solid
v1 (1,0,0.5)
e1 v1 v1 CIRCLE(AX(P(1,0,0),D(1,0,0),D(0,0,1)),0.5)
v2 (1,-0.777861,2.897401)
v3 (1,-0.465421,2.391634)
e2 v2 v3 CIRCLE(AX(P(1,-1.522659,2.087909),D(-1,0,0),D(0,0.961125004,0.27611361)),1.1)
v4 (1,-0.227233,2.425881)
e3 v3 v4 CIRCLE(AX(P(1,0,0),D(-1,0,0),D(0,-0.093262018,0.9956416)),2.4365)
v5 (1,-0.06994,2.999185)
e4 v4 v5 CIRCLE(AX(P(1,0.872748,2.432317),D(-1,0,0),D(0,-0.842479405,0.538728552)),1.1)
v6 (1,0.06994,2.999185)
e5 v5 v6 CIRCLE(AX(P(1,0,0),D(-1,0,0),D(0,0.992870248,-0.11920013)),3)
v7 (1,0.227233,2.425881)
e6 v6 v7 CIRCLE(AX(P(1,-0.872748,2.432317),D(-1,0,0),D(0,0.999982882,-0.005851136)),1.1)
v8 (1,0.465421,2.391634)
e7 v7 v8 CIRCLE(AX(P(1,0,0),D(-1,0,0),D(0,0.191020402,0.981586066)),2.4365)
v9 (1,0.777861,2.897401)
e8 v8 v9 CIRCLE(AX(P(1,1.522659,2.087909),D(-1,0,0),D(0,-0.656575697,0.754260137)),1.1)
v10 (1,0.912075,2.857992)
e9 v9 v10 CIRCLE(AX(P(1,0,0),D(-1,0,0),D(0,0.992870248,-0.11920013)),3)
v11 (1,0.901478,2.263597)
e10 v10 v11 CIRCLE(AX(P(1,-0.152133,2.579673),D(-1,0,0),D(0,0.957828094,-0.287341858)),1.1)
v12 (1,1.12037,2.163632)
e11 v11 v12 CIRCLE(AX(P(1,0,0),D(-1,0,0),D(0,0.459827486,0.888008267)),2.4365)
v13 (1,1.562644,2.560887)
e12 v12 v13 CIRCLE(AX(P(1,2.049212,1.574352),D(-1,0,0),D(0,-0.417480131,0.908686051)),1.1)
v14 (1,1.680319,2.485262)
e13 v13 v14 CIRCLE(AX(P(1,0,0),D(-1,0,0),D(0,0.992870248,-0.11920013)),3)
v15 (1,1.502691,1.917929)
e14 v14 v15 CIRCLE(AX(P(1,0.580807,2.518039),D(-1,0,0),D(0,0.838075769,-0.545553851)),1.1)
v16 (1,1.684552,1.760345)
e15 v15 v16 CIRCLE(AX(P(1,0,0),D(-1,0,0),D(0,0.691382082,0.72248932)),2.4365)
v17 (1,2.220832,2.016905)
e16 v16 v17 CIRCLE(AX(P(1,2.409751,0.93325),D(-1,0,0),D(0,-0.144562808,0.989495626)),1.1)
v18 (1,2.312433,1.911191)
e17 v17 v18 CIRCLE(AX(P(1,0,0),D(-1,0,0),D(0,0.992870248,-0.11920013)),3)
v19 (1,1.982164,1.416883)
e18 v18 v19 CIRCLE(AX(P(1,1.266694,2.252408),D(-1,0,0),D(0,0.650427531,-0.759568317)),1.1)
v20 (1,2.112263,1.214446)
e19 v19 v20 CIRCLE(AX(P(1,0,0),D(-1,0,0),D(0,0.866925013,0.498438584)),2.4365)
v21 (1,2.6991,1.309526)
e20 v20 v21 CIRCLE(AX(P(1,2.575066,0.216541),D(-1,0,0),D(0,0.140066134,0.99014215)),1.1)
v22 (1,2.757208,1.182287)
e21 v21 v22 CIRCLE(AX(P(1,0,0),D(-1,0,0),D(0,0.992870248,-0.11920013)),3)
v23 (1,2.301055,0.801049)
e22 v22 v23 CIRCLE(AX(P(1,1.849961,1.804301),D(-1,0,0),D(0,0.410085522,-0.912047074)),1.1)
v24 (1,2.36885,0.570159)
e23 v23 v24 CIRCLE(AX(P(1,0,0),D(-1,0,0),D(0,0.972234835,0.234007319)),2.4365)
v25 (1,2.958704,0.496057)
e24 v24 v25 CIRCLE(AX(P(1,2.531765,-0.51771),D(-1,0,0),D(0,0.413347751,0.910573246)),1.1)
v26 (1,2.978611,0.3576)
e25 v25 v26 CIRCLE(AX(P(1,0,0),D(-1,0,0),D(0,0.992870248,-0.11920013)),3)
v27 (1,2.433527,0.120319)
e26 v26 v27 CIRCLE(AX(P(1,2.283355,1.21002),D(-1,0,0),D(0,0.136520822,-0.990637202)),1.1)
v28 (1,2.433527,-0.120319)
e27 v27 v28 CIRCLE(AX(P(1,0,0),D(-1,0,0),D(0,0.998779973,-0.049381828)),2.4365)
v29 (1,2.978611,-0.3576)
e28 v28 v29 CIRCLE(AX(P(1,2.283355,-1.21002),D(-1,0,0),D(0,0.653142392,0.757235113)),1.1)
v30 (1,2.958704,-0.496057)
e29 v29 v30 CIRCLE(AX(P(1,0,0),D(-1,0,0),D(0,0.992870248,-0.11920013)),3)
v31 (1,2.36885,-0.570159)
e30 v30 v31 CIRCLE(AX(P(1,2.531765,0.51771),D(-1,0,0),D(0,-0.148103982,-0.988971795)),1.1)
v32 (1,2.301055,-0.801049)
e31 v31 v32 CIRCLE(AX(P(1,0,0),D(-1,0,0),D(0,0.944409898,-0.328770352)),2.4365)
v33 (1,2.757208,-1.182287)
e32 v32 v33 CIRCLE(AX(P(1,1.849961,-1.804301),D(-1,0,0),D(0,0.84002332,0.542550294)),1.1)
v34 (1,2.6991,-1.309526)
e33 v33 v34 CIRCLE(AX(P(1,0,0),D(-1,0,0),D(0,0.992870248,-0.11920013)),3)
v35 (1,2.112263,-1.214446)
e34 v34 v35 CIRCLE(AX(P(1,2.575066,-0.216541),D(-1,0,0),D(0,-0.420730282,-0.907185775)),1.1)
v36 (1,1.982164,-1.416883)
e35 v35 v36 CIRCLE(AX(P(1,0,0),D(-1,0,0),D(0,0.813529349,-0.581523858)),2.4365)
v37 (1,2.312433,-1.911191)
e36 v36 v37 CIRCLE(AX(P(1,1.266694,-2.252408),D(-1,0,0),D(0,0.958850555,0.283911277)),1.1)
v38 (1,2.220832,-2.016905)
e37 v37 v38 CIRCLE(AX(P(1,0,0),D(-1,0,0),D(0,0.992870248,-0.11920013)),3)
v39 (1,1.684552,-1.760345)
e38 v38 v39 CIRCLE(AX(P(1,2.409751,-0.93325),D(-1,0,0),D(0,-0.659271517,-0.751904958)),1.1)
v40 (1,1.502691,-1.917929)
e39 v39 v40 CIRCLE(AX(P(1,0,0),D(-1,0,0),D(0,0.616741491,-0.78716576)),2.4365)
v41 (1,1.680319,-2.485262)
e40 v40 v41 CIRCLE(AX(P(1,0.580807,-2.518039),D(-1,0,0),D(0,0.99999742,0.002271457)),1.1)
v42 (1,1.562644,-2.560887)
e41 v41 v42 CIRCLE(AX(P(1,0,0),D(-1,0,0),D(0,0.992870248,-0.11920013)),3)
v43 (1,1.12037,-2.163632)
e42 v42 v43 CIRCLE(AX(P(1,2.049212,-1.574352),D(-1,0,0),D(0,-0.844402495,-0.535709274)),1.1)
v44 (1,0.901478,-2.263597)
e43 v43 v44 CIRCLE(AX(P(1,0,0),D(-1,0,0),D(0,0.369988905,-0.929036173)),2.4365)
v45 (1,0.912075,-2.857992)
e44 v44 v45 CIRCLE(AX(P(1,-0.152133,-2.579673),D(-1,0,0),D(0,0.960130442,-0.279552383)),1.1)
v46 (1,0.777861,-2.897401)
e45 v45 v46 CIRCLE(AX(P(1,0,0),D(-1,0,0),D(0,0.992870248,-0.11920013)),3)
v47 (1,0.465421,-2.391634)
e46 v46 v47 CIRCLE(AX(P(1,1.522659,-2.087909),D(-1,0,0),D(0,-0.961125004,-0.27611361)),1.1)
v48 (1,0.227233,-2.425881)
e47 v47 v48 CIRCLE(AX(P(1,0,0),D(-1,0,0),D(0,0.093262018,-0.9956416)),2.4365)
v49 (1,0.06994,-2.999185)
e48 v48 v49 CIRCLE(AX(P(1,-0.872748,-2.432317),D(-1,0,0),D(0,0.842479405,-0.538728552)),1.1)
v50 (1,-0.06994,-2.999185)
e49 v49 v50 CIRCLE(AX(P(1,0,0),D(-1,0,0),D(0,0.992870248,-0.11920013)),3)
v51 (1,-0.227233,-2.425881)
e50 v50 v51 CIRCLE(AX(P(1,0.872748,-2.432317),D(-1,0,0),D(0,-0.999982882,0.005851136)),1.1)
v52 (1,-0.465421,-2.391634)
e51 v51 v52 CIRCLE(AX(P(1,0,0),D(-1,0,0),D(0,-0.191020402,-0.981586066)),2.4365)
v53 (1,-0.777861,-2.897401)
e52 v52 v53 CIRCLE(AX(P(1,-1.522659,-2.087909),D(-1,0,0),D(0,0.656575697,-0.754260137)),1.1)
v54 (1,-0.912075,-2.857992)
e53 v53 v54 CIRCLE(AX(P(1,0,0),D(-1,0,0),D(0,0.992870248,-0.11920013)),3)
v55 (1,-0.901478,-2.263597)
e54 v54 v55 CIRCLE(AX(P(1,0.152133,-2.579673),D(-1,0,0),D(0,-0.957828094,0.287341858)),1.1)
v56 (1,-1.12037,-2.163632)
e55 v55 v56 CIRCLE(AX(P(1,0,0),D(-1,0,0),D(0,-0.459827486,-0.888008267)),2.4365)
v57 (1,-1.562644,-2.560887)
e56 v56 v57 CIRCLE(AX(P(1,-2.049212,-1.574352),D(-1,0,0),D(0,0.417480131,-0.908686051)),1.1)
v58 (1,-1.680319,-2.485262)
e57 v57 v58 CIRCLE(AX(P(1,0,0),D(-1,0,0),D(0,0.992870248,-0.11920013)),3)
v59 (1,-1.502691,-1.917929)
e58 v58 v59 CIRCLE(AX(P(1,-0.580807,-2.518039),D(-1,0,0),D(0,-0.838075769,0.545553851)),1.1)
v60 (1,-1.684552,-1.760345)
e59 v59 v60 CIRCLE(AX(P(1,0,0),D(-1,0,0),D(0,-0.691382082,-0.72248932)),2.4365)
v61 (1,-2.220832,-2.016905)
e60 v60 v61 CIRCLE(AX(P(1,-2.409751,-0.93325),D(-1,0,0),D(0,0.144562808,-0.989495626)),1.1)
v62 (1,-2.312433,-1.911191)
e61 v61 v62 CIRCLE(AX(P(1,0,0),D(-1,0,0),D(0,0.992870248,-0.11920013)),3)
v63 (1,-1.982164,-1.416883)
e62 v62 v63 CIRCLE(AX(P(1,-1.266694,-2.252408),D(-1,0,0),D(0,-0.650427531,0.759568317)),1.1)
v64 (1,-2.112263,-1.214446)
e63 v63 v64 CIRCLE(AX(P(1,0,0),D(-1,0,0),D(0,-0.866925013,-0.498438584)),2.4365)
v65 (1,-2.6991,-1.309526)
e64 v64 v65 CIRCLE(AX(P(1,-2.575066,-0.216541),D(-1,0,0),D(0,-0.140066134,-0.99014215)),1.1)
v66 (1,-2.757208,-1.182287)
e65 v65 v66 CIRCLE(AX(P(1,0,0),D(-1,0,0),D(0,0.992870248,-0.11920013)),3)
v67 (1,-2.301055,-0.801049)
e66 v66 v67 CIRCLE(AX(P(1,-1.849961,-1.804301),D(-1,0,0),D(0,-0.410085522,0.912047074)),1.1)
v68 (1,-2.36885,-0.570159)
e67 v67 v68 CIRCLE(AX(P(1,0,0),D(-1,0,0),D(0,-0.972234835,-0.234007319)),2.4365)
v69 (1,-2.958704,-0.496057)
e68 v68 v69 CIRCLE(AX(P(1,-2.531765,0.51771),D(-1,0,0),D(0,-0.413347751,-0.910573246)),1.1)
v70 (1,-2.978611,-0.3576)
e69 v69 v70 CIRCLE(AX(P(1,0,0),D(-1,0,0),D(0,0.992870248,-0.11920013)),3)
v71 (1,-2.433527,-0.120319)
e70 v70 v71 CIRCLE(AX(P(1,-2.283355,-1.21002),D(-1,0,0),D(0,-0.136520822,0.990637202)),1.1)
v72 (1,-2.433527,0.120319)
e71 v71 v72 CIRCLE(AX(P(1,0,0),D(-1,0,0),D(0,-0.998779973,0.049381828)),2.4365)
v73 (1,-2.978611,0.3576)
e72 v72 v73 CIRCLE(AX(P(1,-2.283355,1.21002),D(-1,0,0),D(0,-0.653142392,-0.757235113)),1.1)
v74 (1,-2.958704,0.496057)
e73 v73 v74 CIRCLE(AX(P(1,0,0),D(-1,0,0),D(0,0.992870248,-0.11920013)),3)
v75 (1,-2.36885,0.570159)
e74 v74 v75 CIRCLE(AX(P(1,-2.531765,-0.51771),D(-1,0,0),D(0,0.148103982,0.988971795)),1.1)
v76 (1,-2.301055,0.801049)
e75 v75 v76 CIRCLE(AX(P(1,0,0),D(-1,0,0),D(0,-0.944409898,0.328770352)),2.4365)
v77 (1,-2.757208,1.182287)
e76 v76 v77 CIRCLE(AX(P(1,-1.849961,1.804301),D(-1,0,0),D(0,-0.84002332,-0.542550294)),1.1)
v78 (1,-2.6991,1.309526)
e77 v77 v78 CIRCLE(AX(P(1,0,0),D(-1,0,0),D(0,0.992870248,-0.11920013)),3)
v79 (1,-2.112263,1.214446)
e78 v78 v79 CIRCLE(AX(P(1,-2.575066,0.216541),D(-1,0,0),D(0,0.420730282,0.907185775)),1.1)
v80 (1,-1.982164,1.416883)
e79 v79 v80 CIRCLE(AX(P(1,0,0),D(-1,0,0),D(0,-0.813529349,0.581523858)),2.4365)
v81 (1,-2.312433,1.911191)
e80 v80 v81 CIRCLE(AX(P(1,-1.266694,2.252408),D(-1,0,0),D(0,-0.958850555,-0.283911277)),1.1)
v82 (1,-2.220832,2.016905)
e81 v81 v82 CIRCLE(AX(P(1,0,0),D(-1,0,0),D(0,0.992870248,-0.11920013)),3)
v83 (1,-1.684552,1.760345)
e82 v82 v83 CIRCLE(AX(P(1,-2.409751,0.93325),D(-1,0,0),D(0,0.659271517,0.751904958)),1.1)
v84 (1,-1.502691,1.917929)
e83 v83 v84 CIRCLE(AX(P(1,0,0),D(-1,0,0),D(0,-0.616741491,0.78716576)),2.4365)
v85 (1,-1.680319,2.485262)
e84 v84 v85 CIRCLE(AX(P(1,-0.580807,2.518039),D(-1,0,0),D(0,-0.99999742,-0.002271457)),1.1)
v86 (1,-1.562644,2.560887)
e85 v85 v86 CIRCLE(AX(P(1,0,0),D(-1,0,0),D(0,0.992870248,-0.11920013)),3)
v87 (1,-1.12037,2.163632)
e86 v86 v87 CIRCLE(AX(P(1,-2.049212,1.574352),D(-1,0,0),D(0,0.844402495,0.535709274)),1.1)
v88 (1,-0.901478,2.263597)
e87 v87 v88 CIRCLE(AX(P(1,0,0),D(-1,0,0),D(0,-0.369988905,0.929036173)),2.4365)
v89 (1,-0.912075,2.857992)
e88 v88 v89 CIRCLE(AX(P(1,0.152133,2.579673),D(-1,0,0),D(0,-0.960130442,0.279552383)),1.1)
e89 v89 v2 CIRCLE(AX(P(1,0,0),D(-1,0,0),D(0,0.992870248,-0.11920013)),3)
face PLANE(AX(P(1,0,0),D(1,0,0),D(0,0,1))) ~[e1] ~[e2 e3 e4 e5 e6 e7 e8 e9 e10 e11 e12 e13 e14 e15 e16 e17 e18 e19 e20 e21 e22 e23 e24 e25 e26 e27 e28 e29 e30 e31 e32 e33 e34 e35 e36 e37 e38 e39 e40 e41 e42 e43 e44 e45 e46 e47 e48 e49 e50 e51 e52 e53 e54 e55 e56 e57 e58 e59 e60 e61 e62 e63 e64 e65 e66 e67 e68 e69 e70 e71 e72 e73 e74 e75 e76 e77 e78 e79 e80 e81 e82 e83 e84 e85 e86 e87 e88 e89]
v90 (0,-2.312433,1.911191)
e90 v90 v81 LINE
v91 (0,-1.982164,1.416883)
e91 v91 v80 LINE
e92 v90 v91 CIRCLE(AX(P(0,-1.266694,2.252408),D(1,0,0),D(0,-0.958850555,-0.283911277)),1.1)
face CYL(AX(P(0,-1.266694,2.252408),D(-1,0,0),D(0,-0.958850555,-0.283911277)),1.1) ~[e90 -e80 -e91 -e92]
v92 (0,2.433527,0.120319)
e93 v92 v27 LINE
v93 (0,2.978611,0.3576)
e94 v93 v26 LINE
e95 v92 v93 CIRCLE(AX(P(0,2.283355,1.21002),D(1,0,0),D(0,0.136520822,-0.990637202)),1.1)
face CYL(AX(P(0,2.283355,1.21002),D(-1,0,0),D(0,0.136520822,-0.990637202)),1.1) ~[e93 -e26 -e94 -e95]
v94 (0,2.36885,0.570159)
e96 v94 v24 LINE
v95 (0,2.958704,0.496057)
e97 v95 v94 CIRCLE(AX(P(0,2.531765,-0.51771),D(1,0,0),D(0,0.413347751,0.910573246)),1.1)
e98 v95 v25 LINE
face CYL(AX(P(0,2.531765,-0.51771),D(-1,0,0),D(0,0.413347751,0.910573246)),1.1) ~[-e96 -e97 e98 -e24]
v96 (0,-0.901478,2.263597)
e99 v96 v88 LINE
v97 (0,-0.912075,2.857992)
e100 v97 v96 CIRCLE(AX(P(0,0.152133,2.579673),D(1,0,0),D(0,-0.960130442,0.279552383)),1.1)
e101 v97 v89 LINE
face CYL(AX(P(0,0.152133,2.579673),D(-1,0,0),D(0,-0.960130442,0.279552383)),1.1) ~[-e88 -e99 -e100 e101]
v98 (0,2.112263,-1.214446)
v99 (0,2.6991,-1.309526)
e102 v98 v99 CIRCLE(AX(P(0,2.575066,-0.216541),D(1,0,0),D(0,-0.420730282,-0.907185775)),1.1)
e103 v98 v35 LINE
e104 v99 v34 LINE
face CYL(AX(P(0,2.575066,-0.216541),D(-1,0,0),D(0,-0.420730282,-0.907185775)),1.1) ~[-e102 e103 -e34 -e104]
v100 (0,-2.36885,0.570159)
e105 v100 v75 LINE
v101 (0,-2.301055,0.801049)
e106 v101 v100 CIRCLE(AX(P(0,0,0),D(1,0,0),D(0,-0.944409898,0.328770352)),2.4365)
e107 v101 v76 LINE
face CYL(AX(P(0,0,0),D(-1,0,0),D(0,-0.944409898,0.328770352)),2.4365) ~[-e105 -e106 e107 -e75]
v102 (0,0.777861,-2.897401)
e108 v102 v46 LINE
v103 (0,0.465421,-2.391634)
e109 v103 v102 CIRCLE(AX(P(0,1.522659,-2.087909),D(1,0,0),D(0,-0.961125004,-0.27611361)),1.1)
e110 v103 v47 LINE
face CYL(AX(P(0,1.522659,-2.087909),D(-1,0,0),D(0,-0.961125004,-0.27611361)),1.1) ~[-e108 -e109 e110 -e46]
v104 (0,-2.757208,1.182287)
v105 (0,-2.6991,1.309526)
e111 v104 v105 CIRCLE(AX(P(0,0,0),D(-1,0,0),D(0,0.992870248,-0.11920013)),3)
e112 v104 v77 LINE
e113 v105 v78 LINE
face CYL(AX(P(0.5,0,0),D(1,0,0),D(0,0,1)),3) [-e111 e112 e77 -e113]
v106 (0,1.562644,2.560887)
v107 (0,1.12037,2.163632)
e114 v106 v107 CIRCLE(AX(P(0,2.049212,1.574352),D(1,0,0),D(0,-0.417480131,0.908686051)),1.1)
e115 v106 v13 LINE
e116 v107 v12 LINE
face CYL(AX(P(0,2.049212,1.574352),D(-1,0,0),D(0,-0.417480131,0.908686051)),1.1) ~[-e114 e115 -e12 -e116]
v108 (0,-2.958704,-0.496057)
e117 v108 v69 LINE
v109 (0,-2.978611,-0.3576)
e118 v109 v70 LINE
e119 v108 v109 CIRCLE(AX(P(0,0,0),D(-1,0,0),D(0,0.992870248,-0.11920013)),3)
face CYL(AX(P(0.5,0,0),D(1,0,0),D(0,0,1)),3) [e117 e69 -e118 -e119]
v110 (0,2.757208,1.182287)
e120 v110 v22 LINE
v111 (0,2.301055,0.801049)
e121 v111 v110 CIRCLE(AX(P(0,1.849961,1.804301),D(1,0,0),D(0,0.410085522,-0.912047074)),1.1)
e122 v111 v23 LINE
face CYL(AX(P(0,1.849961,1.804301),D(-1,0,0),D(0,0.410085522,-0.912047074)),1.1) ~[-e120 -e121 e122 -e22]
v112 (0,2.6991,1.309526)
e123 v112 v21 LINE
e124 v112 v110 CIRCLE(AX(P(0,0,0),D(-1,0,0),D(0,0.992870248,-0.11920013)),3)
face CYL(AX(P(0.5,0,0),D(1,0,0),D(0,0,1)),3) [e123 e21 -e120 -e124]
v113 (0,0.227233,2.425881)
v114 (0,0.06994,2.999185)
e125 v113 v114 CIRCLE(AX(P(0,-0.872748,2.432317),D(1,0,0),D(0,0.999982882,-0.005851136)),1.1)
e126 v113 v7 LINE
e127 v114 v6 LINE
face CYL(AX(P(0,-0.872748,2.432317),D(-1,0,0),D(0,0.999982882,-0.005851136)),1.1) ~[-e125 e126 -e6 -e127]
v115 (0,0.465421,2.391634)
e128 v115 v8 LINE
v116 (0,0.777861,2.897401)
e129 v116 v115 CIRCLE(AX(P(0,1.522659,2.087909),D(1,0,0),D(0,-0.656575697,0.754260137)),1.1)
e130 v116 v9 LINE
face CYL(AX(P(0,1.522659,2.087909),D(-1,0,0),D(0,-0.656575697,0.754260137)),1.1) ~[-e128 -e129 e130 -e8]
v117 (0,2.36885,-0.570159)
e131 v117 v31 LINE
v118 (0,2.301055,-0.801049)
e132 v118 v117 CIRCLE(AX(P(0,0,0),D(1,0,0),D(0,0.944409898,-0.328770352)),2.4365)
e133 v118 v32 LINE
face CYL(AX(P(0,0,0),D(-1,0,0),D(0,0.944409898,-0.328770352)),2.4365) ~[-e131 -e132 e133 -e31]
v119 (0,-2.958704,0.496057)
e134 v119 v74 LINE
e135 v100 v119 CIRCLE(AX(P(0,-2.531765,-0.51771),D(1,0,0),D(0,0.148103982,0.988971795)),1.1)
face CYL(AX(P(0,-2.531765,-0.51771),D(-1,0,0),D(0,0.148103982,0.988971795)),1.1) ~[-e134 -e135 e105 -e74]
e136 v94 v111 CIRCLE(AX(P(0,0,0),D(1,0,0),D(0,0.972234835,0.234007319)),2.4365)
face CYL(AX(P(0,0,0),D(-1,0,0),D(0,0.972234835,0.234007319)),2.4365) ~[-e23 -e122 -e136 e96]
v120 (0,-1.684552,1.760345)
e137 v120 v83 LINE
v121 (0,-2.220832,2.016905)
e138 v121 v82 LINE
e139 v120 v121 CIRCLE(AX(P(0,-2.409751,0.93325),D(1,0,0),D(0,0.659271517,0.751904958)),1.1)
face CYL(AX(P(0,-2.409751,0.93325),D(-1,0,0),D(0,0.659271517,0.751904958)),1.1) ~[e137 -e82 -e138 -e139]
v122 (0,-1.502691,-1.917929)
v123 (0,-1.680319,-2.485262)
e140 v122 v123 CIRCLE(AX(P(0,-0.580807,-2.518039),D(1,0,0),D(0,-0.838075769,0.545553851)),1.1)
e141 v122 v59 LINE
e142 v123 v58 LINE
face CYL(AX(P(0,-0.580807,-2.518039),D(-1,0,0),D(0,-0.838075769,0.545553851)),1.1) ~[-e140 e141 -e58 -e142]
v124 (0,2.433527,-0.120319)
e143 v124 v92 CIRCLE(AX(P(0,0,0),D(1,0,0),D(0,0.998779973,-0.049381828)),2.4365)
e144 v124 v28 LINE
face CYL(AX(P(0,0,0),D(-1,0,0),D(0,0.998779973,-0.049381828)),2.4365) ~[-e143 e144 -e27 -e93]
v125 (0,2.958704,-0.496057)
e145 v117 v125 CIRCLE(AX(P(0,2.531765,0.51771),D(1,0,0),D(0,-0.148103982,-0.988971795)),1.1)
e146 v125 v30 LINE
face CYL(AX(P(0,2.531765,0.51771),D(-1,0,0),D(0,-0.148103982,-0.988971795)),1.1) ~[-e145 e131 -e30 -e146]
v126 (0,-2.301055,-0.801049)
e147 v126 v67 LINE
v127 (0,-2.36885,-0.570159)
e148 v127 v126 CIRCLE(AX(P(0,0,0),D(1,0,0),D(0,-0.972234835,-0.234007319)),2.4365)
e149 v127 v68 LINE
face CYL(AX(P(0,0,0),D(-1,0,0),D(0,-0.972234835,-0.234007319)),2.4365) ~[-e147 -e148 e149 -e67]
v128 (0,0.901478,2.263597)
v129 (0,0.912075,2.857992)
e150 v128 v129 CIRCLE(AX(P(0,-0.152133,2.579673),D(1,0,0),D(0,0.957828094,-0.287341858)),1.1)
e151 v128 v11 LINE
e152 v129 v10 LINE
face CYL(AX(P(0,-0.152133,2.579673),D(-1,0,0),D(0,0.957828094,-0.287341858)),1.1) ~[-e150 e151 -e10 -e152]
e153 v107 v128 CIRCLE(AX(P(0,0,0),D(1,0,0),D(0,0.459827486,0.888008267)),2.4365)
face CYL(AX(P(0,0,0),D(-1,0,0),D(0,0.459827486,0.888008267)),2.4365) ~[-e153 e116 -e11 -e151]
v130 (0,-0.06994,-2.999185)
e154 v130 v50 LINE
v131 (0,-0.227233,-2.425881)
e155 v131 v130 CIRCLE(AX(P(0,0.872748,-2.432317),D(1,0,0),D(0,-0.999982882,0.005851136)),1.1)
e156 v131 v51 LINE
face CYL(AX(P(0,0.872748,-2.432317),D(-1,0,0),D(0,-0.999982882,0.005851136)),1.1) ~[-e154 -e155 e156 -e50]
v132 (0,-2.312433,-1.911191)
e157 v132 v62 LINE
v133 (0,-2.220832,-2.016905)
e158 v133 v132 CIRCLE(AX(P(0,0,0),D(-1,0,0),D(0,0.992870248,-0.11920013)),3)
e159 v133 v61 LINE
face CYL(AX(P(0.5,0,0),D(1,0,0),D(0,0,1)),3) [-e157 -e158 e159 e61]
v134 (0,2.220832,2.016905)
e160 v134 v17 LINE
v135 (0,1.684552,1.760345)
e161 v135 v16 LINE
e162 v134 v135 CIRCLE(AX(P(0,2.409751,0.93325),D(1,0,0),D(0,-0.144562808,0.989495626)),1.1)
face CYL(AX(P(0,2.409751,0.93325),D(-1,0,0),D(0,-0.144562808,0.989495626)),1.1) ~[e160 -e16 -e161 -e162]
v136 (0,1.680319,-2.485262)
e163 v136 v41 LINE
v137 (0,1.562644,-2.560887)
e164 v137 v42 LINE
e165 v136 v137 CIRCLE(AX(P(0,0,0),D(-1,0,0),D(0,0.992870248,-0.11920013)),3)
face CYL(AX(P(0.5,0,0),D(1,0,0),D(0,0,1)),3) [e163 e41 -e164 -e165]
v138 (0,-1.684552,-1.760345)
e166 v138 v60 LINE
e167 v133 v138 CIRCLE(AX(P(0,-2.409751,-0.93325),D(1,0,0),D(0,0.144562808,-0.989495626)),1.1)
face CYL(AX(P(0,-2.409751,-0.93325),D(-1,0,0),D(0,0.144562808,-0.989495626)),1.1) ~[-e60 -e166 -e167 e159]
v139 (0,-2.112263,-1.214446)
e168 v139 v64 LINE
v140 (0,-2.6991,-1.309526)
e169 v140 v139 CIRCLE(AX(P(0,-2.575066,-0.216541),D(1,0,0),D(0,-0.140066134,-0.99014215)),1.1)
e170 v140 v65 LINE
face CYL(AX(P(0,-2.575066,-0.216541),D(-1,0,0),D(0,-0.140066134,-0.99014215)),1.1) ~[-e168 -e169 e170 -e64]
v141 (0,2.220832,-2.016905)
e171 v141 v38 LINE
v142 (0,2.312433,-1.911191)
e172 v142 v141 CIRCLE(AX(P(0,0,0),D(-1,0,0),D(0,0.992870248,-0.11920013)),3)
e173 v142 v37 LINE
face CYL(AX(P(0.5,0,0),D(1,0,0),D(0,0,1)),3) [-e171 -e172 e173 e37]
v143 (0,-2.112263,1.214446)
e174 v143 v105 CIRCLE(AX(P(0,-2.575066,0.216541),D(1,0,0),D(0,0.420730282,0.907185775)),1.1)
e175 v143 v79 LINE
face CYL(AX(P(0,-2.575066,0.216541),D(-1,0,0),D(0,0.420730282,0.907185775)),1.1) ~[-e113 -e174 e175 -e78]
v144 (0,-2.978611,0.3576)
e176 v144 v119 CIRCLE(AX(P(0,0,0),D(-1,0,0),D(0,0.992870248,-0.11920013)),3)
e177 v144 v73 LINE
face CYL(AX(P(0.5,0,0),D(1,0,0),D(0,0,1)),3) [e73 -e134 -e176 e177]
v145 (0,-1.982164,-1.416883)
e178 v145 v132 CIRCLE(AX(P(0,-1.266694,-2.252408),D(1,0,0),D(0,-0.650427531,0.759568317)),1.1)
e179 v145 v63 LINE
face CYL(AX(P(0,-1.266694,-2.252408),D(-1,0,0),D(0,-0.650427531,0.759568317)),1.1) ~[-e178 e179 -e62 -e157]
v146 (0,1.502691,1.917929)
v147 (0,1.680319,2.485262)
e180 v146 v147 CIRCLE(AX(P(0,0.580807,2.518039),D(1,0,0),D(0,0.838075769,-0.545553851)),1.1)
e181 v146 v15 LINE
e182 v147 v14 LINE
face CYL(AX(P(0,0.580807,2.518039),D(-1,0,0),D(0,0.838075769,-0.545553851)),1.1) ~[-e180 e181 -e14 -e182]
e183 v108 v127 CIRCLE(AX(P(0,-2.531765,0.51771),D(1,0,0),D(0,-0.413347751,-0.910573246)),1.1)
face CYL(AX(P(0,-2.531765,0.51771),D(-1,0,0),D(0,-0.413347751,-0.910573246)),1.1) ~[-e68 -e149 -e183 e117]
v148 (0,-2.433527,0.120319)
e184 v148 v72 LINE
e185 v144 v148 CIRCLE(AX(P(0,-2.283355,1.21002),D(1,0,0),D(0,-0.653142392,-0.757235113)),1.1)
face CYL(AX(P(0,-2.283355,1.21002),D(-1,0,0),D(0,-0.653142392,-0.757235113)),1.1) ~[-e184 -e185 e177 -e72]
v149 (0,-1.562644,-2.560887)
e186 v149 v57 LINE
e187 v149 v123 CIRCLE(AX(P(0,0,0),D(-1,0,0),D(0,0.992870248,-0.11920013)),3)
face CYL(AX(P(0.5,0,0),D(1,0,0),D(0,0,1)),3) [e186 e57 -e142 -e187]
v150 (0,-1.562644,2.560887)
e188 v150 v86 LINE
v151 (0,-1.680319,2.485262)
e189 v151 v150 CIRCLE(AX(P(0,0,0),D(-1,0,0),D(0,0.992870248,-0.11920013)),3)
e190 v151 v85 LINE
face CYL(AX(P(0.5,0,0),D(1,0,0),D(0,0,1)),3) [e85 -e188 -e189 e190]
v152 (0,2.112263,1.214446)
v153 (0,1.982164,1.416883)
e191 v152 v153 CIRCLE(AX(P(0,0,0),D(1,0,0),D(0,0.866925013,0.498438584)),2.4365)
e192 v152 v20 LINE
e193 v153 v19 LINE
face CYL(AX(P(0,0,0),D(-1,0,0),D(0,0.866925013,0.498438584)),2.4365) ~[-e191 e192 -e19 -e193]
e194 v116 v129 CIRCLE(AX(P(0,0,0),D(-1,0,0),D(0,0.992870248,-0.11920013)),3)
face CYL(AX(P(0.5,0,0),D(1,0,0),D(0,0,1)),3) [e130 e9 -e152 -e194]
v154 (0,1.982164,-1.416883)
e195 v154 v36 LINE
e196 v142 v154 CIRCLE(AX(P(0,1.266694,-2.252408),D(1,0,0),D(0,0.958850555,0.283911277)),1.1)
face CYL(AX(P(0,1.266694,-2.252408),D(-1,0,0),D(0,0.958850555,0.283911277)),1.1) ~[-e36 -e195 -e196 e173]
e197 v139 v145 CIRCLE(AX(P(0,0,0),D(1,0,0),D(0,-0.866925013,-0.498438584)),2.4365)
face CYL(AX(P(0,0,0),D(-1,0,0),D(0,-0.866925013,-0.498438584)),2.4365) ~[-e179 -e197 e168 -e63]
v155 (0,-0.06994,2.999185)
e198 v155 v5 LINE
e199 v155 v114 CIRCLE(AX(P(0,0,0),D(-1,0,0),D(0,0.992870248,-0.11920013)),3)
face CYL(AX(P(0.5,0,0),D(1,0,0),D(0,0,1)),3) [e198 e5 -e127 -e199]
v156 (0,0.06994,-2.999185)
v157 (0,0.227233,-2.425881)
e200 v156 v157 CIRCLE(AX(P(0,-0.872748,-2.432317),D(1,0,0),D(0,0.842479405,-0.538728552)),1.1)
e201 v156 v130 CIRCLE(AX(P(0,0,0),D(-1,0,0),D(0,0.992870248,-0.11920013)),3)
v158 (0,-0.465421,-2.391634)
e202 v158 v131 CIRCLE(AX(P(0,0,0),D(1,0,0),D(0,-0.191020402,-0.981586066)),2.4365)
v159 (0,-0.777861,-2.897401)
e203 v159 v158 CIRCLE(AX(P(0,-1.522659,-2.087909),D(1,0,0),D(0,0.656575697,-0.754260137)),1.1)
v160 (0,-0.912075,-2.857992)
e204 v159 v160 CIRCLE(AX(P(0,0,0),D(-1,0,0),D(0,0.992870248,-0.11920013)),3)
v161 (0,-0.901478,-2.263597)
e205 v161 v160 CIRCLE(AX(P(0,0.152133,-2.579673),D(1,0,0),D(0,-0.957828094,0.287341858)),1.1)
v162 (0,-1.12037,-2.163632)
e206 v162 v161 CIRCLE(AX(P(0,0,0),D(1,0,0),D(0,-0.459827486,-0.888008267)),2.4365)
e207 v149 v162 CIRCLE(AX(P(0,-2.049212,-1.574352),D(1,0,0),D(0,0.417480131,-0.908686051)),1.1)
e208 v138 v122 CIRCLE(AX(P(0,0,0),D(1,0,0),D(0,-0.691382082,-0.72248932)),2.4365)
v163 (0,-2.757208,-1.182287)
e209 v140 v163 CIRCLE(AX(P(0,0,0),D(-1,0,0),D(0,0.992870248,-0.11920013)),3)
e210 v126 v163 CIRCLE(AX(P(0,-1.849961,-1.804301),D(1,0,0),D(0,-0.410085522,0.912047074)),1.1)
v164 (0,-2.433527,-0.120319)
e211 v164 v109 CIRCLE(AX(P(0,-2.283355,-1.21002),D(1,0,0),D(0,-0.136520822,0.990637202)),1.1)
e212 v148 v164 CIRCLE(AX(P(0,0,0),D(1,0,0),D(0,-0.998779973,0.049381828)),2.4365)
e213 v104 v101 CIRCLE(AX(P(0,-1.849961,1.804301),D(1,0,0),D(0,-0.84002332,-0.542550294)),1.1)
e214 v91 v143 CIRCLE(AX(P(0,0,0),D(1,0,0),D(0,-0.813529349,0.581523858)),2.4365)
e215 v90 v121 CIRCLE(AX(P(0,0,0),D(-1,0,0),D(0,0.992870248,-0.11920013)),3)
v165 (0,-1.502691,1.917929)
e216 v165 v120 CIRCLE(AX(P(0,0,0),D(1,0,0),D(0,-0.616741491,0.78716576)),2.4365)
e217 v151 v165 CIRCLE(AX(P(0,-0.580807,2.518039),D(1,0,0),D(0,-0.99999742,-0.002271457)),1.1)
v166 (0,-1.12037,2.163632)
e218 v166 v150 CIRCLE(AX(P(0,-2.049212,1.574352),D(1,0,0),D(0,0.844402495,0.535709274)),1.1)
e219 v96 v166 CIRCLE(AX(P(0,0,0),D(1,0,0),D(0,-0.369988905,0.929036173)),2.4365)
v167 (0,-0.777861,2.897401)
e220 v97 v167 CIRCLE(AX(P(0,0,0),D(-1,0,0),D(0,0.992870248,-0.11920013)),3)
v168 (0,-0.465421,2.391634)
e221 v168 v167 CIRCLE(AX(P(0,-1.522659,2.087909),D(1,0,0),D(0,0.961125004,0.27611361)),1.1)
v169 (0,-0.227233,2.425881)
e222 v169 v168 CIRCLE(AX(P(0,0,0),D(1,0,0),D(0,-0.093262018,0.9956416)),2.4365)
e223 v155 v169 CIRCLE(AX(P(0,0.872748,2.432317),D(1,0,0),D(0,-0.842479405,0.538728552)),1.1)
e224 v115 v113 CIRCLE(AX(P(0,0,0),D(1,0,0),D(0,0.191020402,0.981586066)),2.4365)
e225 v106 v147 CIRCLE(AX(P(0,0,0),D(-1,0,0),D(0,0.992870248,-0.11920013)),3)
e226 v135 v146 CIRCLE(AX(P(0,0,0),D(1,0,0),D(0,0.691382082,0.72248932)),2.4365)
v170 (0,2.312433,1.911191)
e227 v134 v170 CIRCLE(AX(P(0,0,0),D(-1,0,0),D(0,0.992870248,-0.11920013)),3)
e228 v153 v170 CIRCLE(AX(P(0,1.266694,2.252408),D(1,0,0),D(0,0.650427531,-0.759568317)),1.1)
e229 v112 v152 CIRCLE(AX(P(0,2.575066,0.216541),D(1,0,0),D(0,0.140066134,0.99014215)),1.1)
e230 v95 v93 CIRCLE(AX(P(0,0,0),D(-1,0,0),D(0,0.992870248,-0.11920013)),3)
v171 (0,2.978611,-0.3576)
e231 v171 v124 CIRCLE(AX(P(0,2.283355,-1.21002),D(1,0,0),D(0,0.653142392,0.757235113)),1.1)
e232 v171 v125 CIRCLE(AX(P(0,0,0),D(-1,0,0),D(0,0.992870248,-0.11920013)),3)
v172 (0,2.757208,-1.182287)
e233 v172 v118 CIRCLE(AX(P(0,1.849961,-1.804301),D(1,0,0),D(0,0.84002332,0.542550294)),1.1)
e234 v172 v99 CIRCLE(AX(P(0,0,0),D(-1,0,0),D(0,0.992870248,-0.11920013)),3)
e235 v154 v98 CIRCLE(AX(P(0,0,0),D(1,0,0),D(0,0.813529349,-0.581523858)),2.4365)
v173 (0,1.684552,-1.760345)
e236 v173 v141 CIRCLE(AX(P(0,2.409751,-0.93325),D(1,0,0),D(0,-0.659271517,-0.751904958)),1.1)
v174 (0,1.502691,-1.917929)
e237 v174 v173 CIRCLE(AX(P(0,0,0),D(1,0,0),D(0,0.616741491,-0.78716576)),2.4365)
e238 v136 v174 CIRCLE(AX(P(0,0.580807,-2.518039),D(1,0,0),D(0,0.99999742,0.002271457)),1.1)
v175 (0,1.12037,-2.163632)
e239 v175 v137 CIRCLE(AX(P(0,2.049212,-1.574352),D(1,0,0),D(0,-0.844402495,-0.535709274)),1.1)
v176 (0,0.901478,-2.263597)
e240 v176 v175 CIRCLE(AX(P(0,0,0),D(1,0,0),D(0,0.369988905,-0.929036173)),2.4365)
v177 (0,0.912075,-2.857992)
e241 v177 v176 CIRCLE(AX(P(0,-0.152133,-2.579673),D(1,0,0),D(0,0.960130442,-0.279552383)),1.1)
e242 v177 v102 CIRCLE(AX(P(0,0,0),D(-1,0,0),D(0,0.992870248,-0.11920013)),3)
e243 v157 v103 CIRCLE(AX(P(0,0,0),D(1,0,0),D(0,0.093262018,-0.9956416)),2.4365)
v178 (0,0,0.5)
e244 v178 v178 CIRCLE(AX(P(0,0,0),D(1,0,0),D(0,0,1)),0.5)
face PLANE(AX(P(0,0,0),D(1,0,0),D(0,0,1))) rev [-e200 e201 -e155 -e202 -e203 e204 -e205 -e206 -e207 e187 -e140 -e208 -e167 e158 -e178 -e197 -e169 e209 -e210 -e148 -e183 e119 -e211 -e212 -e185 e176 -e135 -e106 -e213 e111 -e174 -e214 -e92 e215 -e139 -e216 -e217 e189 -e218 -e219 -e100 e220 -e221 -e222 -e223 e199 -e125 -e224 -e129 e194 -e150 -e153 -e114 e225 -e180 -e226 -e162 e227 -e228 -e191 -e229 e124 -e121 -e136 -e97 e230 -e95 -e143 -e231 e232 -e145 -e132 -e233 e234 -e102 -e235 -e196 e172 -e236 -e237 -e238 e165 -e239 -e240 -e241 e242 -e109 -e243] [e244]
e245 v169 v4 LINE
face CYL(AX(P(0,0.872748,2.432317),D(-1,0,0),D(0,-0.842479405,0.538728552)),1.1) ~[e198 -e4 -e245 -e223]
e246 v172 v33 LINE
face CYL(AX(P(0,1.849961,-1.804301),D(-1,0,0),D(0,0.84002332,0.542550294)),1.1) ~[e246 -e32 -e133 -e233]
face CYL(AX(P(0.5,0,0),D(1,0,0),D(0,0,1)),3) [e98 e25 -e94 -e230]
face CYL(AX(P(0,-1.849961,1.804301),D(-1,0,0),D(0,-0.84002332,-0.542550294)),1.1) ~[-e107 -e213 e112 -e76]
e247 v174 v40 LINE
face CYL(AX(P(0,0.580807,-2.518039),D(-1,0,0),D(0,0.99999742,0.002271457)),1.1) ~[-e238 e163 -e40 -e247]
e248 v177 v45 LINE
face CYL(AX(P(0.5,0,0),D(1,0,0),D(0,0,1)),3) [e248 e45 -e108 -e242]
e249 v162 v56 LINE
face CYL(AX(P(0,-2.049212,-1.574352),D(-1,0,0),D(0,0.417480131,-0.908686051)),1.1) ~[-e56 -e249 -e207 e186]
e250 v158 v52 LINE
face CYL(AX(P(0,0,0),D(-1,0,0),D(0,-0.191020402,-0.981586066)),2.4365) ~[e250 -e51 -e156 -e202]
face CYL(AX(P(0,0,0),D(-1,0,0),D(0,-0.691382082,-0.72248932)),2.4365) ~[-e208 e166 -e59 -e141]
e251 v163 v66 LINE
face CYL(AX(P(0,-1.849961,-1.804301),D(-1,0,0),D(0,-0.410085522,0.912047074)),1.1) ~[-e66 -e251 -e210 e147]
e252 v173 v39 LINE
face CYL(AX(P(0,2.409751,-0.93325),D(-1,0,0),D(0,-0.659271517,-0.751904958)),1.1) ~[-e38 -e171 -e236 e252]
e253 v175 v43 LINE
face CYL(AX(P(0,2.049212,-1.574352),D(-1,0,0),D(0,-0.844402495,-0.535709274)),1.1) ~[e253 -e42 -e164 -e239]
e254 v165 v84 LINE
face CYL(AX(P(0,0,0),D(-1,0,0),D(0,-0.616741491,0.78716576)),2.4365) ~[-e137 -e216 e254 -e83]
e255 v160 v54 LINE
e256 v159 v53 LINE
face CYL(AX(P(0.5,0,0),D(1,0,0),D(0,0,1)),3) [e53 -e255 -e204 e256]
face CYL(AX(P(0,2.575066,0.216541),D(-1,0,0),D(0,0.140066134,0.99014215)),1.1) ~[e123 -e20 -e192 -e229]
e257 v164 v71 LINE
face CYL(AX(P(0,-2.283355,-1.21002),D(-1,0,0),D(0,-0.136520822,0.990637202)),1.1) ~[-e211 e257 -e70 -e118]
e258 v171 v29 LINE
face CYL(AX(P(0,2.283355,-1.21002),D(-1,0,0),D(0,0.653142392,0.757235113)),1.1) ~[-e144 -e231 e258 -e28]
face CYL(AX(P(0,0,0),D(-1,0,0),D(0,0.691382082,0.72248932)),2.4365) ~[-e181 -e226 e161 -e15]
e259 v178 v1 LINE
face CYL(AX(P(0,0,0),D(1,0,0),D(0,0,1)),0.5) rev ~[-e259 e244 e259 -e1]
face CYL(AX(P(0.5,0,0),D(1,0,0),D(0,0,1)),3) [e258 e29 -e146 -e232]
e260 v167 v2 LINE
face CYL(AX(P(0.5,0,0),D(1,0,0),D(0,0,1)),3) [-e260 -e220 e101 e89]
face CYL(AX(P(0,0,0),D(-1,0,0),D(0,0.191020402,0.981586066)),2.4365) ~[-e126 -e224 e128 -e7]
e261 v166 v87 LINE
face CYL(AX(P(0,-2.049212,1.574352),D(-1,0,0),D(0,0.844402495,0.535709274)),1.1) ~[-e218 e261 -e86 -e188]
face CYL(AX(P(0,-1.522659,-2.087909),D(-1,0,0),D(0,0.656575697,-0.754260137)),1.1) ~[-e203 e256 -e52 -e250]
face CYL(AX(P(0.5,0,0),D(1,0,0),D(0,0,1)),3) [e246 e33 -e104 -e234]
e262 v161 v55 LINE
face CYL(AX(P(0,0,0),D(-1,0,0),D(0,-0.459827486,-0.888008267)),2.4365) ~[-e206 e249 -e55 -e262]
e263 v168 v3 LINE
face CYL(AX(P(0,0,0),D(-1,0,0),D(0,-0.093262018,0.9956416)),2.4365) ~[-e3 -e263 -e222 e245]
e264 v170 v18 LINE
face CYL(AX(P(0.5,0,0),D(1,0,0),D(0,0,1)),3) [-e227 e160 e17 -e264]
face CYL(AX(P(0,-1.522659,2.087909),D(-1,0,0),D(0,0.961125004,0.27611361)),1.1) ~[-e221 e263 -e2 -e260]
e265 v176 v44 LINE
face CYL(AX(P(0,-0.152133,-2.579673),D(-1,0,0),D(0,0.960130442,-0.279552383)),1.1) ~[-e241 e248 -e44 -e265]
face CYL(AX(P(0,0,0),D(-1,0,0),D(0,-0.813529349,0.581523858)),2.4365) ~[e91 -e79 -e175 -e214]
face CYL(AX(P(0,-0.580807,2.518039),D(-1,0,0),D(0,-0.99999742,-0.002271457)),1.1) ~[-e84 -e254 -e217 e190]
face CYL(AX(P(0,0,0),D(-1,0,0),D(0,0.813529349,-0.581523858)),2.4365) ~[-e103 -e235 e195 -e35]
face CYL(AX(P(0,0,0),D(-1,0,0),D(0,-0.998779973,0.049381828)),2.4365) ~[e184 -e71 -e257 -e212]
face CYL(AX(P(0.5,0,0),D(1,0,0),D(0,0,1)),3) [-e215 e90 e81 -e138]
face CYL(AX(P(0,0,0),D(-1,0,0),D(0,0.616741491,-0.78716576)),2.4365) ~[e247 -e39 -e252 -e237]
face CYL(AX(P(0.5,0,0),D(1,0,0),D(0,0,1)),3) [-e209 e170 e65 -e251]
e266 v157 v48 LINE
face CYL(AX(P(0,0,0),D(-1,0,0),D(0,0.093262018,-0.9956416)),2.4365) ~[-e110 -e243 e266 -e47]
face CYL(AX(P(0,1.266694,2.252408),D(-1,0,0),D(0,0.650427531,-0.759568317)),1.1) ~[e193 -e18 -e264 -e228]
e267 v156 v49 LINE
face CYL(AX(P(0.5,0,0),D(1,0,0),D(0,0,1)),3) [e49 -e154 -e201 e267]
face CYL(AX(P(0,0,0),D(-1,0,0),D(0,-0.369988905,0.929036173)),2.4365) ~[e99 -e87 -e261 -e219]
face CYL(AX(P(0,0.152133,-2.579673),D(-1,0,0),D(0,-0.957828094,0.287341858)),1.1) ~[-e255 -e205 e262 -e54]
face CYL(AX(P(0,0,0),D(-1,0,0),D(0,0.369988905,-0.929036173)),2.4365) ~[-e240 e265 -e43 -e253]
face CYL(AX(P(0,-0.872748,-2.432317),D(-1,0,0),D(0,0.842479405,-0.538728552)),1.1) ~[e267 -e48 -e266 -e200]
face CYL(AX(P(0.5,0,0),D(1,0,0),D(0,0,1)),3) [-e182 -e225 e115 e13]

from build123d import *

# Parameters (mm, degrees)
BASPROSKE_W     = 1
BASPROSKE_H     = 3
TOOTHCUT_DEPTH  = 5.358898944
TEETHCUTS_COUNT = 22
TEETHCUTS_ANGLE = 343.636363636
BORSKE_R        = 0.5
BORE_DEPTH      = 50.0000508


with BuildPart() as part:
    # BasProSke → Base-Revolve (revolve)
    with BuildSketch(Plane(origin=(0, 0, 0), x_dir=(1, 0, 0), z_dir=(0, 1, 0)), mode=Mode.PRIVATE) as base_revolve_sk:
        with Locations((0.5, 1.5)):
            Rectangle(BASPROSKE_W, BASPROSKE_H)
    revolve(base_revolve_sk.sketch.rotate(Axis((-10, 0, 0), (1, 0, 0)), 180), axis=Axis((-10, 0, 0), (1, 0, 0)))

    # TooCutSke → ToothCut (cut, through all)
    with BuildSketch(Plane(origin=(0, 0, 0), x_dir=(0, 0, -1), z_dir=(1, 0, 0))):
        with BuildLine():
            ThreePointArc((0.120318822, 2.433527405), (0, 2.4365), (-0.120318822, 2.433527405))
            ThreePointArc((-0.120318822, 2.433527405), (-0.207576962, 2.736243526), (-0.37706112, 3.001811132))
            ThreePointArc((-0.37706112, 3.001811132), (0, 3.0254), (0.37706112, 3.001811132))
            ThreePointArc((0.37706112, 3.001811132), (0.207576962, 2.736243526), (0.120318822, 2.433527405))
        make_face()
    toothcut = extrude(amount=TOOTHCUT_DEPTH, mode=Mode.SUBTRACT)

    # TeethCuts: ToothCut ×22 about axis
    teethcuts_axis = Axis((-10, 0, 0), (1, 0, 0))
    for i in range(1, TEETHCUTS_COUNT):
        add(toothcut.rotate(teethcuts_axis, i * TEETHCUTS_ANGLE / (TEETHCUTS_COUNT - 1)), mode=Mode.SUBTRACT)

    # BorSke → Bore (cut, symmetric)
    with BuildSketch(Plane(origin=(0, 0, 0), x_dir=(0, 0, -1), z_dir=(1, 0, 0))):
        with Locations(Location((0, 0, 0), (0, 0, 180))):
            Circle(BORSKE_R)
    extrude(amount=BORE_DEPTH, both=True, mode=Mode.SUBTRACT)


solid = part.part
